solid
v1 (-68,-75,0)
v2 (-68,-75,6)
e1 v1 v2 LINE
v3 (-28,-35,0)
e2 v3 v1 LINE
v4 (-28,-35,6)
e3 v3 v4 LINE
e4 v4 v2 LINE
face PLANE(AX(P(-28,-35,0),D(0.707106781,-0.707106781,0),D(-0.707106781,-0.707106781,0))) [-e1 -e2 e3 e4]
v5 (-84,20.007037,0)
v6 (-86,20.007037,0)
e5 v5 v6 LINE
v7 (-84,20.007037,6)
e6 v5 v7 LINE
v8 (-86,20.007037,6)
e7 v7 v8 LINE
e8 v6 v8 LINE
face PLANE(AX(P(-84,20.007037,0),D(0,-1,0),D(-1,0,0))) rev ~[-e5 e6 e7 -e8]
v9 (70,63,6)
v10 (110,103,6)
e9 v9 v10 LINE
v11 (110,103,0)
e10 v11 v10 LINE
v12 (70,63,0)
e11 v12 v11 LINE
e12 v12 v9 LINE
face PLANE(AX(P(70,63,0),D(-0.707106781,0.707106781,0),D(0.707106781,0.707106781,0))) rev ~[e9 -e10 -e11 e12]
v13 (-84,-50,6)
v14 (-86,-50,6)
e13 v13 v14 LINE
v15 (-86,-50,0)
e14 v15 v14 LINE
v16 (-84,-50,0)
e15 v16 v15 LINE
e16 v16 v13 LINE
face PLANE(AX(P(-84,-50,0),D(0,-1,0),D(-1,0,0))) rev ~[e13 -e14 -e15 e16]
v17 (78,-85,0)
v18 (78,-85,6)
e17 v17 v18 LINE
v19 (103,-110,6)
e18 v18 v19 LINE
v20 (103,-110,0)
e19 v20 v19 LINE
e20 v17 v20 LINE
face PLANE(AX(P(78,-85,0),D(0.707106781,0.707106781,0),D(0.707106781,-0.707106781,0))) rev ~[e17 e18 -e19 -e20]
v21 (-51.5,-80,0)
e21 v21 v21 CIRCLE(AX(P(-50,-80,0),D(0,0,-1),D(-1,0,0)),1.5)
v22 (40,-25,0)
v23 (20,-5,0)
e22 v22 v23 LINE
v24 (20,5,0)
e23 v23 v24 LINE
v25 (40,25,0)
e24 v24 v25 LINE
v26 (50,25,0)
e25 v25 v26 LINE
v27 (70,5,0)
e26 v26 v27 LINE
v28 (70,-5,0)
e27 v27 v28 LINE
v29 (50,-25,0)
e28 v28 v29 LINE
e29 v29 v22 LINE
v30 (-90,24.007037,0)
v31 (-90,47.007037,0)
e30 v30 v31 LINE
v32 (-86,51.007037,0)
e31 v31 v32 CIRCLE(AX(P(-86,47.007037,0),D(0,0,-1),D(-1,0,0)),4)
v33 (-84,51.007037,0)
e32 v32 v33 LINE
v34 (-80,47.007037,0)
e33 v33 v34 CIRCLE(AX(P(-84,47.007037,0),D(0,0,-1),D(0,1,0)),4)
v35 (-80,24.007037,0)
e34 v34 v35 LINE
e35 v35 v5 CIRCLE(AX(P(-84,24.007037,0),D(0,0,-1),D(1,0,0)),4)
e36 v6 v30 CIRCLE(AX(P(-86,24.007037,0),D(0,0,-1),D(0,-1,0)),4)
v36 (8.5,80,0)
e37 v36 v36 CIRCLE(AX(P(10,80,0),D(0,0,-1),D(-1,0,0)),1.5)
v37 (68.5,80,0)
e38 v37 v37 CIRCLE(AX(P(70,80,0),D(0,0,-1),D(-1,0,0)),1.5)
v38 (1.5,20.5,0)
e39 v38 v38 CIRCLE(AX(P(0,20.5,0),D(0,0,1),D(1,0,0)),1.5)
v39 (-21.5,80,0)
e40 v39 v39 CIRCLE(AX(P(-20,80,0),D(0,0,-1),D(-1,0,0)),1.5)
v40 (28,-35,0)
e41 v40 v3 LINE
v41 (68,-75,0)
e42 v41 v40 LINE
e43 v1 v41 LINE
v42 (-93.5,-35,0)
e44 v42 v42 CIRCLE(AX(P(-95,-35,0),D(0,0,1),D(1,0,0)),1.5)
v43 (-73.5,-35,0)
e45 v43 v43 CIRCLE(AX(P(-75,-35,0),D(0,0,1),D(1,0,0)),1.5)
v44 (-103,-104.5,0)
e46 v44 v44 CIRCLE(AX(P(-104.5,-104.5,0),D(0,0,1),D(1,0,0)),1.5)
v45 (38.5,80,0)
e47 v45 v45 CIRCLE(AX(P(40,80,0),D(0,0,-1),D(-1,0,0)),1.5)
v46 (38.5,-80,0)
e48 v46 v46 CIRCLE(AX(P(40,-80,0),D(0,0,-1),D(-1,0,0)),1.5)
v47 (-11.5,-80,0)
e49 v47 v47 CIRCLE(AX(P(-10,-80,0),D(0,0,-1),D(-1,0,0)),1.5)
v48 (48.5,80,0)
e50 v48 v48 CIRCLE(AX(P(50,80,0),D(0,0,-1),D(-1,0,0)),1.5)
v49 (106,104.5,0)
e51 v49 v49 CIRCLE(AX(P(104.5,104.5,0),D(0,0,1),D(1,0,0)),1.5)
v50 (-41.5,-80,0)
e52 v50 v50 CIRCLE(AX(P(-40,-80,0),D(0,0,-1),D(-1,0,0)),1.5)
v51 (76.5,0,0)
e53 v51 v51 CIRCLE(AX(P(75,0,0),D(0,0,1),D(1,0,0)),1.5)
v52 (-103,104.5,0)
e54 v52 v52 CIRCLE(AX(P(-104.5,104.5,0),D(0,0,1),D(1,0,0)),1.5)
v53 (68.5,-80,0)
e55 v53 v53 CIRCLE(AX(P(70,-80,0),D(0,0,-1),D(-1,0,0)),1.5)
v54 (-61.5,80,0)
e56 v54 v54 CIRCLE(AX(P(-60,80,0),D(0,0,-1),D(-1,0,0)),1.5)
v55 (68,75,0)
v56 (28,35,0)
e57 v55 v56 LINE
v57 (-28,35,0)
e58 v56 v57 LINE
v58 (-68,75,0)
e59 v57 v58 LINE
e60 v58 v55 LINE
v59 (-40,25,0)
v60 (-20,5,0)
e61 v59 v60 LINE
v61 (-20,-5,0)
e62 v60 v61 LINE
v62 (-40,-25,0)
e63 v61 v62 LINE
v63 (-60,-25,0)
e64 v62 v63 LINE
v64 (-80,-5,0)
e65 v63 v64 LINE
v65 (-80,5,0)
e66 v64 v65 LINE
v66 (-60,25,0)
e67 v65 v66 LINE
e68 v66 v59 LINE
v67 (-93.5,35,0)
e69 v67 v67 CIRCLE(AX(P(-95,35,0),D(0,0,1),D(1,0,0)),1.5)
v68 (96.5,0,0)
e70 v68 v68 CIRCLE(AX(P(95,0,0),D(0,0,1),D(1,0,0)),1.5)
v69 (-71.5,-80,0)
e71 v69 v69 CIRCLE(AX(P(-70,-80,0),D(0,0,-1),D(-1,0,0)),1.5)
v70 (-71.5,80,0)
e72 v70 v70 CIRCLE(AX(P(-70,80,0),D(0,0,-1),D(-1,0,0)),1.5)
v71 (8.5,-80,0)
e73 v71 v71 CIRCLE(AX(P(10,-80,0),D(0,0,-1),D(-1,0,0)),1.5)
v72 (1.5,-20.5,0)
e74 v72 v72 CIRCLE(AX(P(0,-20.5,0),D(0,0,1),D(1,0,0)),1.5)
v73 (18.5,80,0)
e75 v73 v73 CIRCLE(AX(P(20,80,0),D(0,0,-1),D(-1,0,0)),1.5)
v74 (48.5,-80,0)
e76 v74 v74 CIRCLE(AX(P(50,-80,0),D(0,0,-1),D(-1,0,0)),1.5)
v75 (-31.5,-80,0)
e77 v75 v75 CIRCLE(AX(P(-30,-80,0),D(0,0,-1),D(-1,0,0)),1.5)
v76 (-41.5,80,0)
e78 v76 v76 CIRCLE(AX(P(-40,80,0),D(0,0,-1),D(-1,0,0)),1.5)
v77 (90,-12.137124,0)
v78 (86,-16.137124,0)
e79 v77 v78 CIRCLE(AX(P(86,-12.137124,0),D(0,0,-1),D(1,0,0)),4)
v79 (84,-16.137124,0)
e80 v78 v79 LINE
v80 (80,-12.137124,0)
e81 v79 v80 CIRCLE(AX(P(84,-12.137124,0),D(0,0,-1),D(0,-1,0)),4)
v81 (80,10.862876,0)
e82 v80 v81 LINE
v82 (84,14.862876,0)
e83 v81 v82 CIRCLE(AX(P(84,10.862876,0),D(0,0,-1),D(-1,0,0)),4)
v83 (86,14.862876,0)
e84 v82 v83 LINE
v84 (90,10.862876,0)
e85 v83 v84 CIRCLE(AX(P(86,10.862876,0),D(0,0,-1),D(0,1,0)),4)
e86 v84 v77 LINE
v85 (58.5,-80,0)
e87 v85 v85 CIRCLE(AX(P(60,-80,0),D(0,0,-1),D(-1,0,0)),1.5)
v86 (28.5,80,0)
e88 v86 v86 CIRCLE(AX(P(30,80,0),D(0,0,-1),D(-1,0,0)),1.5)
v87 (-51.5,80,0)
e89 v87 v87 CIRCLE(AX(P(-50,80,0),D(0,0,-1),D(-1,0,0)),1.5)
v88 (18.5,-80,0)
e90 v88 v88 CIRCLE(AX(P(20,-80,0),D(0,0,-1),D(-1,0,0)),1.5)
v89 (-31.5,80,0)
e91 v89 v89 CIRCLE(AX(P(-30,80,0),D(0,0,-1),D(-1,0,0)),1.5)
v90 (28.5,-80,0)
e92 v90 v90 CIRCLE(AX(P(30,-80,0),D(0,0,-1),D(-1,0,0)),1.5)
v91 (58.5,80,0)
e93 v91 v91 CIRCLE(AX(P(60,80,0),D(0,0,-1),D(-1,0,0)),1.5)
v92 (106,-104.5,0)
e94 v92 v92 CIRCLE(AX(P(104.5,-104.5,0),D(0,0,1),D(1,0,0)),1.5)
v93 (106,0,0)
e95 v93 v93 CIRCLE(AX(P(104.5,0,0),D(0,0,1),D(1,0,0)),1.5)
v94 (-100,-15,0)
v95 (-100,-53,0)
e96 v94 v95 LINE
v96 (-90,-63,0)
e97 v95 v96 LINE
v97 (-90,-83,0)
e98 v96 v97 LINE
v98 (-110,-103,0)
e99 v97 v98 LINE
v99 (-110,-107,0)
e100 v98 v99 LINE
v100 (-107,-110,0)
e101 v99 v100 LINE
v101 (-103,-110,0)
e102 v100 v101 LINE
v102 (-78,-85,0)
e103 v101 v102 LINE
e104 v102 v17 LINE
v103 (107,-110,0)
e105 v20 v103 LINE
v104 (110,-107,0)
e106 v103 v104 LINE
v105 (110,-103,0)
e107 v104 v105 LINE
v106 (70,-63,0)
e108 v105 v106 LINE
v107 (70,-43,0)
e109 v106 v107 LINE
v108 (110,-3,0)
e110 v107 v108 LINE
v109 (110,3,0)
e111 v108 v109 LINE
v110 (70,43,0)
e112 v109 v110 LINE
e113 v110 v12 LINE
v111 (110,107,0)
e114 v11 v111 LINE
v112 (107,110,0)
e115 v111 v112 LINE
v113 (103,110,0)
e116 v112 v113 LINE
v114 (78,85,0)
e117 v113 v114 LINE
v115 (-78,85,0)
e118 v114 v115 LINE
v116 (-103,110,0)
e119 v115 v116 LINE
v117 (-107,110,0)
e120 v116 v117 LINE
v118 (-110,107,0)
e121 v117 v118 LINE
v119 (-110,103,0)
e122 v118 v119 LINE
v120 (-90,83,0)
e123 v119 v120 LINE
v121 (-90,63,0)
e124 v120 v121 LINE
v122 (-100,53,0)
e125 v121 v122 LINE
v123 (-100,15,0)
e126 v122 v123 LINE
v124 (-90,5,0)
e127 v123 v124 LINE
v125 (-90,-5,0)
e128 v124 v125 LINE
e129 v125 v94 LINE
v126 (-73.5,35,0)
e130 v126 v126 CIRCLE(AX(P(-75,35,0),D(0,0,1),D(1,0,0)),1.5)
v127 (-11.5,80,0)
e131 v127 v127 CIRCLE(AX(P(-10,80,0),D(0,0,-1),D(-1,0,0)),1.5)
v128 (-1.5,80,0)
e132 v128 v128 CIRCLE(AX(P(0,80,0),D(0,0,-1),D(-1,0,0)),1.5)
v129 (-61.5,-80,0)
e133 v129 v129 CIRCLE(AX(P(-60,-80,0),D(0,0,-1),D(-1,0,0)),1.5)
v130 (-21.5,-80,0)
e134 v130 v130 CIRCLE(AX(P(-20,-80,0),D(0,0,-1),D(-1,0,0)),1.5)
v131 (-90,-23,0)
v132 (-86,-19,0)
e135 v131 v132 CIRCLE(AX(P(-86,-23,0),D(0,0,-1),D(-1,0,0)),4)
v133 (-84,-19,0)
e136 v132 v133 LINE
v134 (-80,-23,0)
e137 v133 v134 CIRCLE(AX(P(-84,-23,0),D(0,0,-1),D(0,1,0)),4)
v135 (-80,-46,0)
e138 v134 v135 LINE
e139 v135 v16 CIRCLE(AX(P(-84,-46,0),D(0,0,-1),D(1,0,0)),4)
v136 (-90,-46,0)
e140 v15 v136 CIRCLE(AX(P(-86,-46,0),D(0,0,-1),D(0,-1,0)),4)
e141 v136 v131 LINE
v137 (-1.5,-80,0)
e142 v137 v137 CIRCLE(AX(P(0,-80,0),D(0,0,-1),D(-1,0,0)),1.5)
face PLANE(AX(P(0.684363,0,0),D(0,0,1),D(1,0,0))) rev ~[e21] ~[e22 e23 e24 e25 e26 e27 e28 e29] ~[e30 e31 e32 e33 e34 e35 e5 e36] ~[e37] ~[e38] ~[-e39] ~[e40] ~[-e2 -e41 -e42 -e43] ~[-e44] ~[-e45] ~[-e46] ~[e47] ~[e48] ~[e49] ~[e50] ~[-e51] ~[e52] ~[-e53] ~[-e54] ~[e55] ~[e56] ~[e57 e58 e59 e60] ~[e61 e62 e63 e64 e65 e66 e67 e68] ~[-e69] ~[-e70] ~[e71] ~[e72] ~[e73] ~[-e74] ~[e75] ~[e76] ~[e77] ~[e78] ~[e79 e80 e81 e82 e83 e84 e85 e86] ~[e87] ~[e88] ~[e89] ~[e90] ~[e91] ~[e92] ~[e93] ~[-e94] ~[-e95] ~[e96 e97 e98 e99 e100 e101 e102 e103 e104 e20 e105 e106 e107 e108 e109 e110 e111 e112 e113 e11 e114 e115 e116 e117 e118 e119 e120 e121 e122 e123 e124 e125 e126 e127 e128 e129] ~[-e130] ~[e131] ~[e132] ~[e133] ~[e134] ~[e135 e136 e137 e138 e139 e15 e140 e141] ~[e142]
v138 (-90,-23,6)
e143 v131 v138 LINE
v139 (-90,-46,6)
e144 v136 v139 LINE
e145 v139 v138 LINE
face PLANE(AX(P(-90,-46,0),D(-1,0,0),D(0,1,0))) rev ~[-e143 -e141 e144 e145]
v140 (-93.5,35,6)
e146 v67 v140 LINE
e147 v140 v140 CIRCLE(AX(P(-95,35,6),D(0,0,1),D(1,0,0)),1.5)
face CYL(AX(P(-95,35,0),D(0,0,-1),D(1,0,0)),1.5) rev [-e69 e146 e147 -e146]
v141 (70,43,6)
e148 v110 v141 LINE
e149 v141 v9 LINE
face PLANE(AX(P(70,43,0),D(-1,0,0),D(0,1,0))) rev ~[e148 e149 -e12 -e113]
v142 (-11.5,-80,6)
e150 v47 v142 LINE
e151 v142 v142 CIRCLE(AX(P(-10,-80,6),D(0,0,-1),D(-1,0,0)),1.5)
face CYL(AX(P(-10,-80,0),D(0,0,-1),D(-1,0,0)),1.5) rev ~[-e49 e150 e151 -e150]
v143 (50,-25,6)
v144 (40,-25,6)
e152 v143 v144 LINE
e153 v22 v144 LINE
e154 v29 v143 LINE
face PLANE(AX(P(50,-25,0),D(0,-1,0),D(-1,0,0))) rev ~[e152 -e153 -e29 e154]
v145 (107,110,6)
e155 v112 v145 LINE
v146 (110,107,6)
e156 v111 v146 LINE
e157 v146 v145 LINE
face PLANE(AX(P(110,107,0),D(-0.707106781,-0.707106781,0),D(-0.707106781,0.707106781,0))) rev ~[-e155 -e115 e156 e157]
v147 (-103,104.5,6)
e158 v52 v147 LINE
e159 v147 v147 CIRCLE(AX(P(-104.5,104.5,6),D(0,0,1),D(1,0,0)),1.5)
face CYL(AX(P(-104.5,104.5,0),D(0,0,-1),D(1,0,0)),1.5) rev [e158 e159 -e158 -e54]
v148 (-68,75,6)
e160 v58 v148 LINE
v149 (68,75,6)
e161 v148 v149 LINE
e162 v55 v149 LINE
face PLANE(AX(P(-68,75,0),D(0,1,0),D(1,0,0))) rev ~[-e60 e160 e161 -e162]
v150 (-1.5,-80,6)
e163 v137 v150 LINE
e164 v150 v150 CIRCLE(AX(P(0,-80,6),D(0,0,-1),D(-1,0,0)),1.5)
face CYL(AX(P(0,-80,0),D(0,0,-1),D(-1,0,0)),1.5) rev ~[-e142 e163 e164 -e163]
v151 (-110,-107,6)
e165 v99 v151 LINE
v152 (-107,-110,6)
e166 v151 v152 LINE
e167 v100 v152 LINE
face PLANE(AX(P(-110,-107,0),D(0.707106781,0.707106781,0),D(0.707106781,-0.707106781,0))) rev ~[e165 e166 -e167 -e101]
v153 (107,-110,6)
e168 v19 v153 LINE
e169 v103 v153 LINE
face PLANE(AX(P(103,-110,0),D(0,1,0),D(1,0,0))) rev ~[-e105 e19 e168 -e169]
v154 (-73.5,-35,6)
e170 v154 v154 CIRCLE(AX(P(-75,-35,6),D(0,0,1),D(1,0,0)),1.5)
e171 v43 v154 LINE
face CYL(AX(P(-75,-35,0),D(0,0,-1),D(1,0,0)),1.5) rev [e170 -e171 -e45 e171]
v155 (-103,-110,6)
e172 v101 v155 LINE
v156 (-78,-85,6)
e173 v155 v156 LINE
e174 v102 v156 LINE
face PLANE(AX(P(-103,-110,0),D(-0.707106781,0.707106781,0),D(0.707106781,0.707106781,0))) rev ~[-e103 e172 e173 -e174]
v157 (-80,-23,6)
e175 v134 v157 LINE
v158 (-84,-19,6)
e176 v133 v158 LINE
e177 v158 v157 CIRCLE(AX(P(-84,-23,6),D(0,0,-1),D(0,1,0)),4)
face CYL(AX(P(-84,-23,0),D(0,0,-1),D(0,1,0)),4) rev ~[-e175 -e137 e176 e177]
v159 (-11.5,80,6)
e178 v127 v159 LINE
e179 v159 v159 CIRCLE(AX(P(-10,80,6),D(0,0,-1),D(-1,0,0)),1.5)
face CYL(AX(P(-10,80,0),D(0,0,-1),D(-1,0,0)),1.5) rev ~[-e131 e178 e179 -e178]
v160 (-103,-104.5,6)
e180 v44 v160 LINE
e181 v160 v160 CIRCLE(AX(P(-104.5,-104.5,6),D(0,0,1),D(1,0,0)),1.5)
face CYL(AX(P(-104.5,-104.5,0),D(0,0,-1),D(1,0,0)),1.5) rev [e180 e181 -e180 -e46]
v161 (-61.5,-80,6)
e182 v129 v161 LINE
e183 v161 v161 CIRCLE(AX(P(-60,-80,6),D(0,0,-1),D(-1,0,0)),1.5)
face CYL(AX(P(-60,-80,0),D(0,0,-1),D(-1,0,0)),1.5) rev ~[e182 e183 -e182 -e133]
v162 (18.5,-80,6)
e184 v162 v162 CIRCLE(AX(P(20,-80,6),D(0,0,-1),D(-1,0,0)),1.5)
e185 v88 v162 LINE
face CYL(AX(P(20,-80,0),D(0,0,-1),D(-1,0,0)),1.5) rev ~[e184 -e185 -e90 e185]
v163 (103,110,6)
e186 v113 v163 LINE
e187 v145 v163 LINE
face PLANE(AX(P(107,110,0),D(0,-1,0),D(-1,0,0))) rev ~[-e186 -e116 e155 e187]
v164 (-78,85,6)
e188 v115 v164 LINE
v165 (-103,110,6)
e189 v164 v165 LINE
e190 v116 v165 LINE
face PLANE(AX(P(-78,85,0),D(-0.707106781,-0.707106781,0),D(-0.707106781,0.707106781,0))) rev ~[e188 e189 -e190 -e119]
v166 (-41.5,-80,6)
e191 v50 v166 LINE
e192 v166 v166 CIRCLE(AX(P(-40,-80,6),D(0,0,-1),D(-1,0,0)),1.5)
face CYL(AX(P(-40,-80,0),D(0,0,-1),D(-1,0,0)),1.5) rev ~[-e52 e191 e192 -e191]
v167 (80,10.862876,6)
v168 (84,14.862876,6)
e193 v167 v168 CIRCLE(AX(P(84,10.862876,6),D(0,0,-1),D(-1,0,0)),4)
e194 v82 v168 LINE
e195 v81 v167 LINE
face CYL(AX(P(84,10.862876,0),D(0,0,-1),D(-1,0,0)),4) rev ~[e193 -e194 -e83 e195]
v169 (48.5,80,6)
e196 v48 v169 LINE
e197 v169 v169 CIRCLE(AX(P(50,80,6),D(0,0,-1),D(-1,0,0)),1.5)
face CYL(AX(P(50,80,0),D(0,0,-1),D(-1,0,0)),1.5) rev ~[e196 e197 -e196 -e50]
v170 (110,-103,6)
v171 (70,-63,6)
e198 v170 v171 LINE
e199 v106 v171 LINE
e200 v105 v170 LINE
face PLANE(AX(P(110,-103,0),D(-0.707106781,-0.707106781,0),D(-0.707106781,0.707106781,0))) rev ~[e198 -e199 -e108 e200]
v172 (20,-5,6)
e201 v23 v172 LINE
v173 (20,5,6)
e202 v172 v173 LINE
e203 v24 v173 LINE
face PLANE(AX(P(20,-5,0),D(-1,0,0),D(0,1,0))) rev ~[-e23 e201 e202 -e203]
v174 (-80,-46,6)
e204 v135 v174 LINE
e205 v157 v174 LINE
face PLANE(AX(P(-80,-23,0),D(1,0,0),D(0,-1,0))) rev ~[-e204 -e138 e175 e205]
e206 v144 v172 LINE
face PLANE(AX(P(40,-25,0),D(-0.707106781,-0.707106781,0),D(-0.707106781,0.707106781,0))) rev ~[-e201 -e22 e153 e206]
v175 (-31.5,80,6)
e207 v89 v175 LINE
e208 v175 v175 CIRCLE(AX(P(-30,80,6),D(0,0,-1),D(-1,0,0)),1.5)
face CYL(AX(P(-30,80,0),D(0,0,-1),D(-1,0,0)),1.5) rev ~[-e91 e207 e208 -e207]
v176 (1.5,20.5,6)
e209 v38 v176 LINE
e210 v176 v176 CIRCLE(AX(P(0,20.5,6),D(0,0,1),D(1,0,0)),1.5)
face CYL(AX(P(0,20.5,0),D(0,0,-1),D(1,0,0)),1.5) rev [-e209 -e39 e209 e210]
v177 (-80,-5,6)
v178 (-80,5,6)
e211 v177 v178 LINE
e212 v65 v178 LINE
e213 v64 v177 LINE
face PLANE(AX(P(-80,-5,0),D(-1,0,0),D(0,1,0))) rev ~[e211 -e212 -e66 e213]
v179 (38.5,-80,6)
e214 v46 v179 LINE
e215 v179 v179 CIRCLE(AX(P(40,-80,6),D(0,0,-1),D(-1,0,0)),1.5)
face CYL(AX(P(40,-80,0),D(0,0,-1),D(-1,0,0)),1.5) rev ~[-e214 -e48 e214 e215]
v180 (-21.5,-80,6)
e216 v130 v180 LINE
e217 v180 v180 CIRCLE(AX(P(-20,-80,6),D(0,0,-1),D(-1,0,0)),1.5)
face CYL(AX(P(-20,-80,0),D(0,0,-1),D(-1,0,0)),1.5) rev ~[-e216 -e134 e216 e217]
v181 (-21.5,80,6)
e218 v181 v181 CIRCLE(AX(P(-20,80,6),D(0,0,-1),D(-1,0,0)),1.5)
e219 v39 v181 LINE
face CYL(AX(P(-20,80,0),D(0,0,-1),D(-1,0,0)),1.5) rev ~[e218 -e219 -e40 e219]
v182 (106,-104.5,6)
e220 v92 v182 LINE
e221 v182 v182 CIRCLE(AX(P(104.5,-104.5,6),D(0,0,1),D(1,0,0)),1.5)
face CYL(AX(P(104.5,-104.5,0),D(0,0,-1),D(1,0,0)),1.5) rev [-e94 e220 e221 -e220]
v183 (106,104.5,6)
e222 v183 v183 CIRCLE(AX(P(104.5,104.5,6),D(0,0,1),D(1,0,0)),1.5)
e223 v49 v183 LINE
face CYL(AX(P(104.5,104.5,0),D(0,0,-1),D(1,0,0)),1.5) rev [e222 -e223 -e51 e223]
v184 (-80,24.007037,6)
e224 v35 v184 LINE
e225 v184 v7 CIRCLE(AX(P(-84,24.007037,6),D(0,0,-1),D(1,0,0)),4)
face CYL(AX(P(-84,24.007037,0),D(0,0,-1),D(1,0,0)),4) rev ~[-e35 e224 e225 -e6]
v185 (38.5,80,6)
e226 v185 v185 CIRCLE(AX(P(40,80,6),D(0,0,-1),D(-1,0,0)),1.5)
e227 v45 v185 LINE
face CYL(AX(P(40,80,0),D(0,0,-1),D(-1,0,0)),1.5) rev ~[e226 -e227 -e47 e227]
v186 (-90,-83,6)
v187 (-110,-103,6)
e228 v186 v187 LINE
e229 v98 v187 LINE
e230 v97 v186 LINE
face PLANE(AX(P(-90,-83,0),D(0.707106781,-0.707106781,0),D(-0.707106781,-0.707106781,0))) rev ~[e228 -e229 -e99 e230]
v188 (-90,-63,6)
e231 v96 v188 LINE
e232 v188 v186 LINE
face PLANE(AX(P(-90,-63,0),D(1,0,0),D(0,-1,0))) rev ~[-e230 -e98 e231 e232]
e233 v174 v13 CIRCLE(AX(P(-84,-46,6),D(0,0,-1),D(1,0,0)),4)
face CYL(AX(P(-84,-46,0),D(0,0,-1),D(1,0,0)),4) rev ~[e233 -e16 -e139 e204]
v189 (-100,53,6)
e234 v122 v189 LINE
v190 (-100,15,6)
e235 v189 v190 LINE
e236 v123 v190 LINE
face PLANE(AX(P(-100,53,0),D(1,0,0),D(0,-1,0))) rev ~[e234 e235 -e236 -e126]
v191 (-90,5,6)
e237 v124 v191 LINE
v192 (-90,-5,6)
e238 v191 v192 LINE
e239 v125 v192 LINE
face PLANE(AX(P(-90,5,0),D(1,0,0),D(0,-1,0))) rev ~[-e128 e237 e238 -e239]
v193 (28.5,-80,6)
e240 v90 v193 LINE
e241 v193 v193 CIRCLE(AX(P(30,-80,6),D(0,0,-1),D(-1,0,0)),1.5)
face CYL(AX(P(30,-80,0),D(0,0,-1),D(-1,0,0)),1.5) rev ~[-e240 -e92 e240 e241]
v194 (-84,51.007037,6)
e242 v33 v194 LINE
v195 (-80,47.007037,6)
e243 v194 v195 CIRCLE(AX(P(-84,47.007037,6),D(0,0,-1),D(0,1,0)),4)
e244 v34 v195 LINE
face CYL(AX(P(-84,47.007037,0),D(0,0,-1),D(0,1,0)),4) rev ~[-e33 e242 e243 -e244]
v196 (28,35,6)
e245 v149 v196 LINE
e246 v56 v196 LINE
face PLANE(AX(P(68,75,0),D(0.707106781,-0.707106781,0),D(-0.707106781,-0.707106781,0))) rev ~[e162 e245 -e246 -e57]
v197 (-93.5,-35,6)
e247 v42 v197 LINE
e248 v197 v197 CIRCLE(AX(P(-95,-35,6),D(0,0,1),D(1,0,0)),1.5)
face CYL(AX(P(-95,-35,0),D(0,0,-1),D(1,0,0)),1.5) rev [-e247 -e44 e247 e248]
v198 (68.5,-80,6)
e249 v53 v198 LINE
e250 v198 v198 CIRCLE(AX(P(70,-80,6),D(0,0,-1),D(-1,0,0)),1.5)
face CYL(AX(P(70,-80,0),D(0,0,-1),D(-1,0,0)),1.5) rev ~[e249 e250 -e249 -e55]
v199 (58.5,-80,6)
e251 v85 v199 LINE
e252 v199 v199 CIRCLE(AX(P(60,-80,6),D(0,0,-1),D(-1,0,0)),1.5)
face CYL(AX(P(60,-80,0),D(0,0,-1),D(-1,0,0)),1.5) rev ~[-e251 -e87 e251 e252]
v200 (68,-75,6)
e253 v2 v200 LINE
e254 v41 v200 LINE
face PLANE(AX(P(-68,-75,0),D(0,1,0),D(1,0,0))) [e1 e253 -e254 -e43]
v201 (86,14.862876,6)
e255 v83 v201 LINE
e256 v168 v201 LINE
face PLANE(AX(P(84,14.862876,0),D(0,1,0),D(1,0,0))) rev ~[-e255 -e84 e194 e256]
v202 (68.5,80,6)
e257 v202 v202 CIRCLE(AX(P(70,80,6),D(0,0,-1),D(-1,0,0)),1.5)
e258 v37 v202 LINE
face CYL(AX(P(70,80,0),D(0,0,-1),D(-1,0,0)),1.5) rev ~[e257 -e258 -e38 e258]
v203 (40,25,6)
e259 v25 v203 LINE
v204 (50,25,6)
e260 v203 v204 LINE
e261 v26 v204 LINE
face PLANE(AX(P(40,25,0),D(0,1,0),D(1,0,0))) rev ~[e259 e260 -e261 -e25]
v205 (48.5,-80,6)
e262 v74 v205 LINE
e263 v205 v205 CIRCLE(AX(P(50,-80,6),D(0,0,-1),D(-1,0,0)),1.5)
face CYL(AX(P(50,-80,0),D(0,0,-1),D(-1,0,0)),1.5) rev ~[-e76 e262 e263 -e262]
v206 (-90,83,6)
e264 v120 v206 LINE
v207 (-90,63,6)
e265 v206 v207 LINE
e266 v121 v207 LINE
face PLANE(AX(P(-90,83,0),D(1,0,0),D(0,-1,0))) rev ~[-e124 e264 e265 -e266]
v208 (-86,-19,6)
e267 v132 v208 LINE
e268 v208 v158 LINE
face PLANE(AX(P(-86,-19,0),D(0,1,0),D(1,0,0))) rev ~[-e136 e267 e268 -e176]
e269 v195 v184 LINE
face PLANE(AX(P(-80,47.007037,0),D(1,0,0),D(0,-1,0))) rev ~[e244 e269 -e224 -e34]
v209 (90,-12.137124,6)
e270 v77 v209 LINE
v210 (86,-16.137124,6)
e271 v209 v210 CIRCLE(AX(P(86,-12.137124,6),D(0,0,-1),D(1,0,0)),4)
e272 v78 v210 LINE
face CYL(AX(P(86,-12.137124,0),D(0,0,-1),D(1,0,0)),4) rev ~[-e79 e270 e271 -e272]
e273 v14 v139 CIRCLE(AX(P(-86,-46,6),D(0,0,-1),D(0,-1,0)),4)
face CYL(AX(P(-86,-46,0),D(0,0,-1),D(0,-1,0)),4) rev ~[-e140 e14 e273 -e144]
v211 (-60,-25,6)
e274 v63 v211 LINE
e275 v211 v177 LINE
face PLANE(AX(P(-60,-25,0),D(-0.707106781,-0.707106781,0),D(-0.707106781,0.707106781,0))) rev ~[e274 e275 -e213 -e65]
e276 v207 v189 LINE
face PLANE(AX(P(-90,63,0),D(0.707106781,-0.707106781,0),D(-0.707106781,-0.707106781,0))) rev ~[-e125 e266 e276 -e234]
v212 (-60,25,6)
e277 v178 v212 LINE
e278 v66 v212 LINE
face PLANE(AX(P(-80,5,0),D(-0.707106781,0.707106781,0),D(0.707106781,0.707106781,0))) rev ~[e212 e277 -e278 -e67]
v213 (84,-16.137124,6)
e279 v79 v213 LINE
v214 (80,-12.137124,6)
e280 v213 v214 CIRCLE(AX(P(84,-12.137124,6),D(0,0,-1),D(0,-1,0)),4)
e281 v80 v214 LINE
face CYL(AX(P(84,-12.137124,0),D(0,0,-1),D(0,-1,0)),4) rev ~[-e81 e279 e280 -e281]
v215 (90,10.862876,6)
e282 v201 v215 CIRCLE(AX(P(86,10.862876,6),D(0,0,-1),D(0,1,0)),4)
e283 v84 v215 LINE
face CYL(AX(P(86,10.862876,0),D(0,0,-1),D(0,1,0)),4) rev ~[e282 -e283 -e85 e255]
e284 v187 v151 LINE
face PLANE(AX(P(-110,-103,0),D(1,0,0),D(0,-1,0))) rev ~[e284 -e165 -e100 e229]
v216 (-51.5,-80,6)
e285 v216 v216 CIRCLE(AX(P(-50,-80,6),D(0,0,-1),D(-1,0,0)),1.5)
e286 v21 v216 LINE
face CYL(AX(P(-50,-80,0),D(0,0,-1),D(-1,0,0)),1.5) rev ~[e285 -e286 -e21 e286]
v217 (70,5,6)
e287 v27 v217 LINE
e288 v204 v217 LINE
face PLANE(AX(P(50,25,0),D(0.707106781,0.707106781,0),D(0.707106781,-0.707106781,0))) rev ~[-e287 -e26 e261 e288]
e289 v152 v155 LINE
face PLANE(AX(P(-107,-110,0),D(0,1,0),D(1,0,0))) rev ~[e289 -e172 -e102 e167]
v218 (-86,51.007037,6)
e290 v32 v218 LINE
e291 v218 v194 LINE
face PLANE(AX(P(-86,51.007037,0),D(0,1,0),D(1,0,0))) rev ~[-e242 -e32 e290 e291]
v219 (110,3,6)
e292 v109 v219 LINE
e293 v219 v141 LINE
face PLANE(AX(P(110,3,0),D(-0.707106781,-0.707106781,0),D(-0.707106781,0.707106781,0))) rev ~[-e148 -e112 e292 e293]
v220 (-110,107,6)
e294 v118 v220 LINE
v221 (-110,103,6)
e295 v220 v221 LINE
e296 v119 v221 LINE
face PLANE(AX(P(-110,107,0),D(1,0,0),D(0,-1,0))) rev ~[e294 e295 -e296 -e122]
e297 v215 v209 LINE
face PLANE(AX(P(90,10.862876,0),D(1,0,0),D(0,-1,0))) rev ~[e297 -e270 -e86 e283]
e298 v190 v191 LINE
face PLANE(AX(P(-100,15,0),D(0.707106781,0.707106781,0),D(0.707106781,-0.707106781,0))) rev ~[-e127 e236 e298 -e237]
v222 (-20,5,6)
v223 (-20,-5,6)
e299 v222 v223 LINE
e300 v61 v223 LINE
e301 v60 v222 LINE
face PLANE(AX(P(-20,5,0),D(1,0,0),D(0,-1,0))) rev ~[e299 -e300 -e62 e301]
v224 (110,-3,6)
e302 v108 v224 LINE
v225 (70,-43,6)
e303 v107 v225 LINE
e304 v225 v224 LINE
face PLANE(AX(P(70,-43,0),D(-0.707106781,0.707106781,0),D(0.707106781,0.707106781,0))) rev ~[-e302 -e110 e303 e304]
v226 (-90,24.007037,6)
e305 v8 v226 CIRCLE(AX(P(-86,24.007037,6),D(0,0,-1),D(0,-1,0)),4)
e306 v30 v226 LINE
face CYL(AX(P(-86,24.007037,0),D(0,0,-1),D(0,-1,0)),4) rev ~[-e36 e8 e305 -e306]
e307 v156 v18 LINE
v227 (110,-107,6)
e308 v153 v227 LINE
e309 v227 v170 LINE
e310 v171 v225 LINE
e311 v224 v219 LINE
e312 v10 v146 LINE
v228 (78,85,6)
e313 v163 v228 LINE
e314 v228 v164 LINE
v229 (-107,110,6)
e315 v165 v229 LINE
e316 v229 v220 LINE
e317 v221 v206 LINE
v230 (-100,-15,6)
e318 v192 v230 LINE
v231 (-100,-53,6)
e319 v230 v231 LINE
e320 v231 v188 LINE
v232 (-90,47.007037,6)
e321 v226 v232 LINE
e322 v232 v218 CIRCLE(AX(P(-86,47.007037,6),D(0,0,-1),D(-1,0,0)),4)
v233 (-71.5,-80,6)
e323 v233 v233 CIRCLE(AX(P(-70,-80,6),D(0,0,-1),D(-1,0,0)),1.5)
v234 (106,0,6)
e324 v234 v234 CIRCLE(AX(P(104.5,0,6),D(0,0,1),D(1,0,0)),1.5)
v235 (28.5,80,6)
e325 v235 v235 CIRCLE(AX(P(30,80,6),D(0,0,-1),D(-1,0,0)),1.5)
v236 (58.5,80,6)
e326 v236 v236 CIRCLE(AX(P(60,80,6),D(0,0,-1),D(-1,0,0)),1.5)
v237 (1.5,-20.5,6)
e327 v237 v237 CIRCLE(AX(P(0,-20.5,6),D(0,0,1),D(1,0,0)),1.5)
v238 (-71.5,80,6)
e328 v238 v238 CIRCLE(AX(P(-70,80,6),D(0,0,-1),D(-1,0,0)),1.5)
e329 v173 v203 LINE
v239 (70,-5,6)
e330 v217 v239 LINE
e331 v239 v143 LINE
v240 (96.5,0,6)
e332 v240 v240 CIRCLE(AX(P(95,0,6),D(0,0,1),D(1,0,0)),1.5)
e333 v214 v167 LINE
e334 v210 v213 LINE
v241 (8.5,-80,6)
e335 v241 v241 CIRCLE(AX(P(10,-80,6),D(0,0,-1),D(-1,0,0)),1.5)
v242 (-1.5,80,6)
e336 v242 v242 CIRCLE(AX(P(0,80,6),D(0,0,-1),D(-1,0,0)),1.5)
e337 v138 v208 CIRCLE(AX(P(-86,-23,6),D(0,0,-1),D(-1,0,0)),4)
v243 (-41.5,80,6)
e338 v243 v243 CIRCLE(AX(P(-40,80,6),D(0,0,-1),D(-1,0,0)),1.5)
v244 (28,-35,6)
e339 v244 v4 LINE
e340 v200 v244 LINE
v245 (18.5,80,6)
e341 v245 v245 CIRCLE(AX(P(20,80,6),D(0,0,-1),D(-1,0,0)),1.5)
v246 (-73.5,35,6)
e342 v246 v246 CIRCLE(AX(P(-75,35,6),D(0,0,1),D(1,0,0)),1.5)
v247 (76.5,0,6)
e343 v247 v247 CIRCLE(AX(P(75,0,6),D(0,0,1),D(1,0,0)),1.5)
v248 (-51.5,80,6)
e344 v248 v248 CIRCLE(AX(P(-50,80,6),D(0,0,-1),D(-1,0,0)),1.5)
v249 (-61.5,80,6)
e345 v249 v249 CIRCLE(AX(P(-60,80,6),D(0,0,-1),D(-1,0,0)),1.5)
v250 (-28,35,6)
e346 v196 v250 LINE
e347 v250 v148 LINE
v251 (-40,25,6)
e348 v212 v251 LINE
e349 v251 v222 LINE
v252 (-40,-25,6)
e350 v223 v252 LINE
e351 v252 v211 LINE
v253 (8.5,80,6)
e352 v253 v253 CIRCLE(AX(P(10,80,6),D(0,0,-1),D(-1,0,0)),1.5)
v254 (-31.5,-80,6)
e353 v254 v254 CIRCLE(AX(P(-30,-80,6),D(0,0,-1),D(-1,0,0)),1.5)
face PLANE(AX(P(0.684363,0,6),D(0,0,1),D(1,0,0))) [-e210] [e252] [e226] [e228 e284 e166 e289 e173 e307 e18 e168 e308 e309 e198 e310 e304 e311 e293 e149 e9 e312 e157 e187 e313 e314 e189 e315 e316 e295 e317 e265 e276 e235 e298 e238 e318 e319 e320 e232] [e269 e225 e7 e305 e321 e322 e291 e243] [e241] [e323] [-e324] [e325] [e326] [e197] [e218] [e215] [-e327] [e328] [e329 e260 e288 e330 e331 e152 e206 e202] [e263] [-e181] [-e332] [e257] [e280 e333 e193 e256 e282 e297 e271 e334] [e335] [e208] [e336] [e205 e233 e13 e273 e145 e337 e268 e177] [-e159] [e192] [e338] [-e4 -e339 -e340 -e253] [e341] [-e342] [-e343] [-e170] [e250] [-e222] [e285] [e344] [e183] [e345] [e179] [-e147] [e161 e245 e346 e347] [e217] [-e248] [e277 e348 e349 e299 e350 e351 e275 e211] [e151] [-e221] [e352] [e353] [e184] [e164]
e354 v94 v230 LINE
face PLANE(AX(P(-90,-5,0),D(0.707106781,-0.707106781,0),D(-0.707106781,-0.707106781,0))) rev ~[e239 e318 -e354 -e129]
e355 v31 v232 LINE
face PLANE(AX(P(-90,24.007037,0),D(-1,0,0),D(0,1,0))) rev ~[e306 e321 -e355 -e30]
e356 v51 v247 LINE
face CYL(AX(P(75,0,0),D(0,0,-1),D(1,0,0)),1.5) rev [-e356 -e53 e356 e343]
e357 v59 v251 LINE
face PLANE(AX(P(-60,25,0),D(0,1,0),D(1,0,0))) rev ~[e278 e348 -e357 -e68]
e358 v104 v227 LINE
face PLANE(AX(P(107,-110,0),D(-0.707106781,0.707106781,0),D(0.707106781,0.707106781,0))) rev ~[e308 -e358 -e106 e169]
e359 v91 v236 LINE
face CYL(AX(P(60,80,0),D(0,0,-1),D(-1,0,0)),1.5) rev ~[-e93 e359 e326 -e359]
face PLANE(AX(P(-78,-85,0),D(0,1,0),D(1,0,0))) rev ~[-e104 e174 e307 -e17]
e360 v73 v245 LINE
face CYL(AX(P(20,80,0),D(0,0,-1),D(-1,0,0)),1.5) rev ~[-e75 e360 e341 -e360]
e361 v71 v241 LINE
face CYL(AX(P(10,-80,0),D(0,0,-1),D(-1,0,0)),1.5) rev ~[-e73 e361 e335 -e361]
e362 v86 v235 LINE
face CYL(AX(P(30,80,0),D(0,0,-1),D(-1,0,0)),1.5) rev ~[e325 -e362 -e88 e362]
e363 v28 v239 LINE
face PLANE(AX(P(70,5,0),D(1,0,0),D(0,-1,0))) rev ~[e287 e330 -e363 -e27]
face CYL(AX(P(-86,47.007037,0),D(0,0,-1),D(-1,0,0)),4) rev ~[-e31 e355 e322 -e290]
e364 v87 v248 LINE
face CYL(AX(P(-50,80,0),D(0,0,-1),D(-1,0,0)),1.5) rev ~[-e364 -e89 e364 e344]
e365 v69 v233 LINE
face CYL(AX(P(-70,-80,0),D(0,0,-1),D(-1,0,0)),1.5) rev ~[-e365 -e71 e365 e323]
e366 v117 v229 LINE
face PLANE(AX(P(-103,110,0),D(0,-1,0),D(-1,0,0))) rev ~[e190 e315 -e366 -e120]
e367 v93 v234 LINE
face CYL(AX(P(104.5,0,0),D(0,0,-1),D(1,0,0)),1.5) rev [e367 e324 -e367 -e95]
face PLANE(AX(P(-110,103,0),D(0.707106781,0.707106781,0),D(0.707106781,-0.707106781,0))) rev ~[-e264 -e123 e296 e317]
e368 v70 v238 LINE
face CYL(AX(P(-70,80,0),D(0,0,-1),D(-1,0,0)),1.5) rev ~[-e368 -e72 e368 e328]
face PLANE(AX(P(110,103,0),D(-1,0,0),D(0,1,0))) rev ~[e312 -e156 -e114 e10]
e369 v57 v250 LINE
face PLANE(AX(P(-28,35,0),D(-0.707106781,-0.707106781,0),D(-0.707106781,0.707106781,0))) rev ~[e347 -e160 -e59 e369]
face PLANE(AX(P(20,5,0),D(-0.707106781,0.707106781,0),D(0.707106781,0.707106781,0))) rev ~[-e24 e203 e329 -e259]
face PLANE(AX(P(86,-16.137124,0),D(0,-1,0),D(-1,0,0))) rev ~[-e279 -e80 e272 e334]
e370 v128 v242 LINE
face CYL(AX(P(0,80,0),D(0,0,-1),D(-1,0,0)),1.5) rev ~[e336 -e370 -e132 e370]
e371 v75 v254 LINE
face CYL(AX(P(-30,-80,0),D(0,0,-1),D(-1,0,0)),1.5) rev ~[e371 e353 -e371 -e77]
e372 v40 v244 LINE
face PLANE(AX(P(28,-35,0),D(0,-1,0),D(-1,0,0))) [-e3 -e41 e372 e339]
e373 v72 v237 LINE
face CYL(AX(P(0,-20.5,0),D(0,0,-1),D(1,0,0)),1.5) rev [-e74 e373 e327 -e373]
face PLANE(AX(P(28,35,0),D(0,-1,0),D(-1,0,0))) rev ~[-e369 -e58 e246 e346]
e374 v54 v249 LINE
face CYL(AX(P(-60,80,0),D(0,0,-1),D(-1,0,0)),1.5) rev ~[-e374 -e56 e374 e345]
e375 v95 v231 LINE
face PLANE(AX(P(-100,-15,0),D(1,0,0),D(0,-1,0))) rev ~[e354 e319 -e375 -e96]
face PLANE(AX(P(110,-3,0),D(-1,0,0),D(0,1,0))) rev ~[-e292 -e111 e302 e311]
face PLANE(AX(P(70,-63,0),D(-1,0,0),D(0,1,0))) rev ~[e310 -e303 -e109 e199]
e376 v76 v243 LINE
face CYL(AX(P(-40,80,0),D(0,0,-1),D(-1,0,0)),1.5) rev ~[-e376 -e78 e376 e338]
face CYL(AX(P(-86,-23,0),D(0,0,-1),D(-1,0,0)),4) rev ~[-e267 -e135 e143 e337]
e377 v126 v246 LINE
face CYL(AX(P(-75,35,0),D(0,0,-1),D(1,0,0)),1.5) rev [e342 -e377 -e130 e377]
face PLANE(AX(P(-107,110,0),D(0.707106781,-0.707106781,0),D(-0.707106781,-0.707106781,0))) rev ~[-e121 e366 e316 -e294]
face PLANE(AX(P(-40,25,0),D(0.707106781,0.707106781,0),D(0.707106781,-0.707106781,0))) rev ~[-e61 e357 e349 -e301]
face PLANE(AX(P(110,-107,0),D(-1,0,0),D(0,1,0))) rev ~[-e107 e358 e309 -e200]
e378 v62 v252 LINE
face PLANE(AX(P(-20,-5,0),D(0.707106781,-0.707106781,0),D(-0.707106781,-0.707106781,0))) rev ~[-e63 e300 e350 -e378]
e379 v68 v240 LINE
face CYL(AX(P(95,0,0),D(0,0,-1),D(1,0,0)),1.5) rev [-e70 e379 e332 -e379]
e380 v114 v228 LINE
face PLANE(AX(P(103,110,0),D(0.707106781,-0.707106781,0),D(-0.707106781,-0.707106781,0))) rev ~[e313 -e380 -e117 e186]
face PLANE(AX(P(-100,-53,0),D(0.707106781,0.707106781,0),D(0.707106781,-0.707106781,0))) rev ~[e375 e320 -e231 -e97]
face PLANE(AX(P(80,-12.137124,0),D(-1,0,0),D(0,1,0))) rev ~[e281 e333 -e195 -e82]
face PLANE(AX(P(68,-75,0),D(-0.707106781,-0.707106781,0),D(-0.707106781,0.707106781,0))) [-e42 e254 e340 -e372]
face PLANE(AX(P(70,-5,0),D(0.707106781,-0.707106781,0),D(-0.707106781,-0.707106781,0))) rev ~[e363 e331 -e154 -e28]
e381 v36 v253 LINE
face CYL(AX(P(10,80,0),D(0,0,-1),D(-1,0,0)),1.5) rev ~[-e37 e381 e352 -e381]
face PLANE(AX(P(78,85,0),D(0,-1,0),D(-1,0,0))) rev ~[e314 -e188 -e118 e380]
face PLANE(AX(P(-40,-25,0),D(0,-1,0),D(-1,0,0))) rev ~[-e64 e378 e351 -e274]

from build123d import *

# Parameters (mm, degrees)
MODEL_R                 = 1.5
SALIENTE_EXTRUIR1_DEPTH = 6
CROQUIS2_R              = 1.5
CROQUIS2_R_2            = 0.241728607
CORTAR_EXTRUIR1_DEPTH   = 7


with BuildPart() as part:
    # Model → Saliente-Extruir1 (new body)
    with BuildSketch(Plane.XY):
        Polygon((-105, 110), (-107, 110), (-110, 107), (-110, 105), (-110, 103), (-90, 83), (-90, 63), (-100, 53), (-100, 15), (-90, 5), (-90, -5), (-100, -15), (-100, -53), (-90, -63), (-90, -83), (-110, -103), (-110, -107), (-107, -110), (-105, -110), (-103, -110), (-78, -85), (78, -85), (103, -110), (105, -110), (107, -110), (110, -107), (110, -103), (90, -83), (70, -63), (70, -43), (90, -23), (110, -3), (110, 3), (90, 23), (70, 43), (70, 63), (110, 103), (110, 106), (110, 107), (107, 110), (103, 110), (80, 87), (78, 85), (-78, 85), (-103, 110), align=None)
        with Locations((104.5, 0)):
            Circle(MODEL_R, mode=Mode.SUBTRACT)
        with Locations((-95, 35)):
            Circle(MODEL_R, mode=Mode.SUBTRACT)
        with Locations((-75, 35)):
            Circle(MODEL_R, mode=Mode.SUBTRACT)
        with Locations((-95, -35)):
            Circle(MODEL_R, mode=Mode.SUBTRACT)
        with Locations((-75, -35)):
            Circle(MODEL_R, mode=Mode.SUBTRACT)
        with Locations((95, 0)):
            Circle(MODEL_R, mode=Mode.SUBTRACT)
        with Locations((75, 0)):
            Circle(MODEL_R, mode=Mode.SUBTRACT)
        with Locations((-104.5, 104.5)):
            Circle(MODEL_R, mode=Mode.SUBTRACT)
        with Locations((104.5, -104.5)):
            Circle(MODEL_R, mode=Mode.SUBTRACT)
        with Locations((104.5, 104.5)):
            Circle(MODEL_R, mode=Mode.SUBTRACT)
        with Locations((-104.5, -104.5)):
            Circle(MODEL_R, mode=Mode.SUBTRACT)
        with Locations((0, -20.5)):
            Circle(MODEL_R, mode=Mode.SUBTRACT)
        with Locations((0, 20.5)):
            Circle(MODEL_R, mode=Mode.SUBTRACT)
        Polygon((40, 47), (38, 45), (28, 35), (-28, 35), (-68, 75), (68, 75), align=None, mode=Mode.SUBTRACT)
        Polygon((28, -35), (-28, -35), (-68, -75), (68, -75), align=None, mode=Mode.SUBTRACT)
        Polygon((-80, 5), (-60, 25), (-40, 25), (-20, 5), (-20, -5), (-40, -25), (-60, -25), (-80, -5), align=None, mode=Mode.SUBTRACT)
        Polygon((50, 25), (70, 5), (70, -5), (50, -25), (40, -25), (20, -5), (20, 5), (40, 25), align=None, mode=Mode.SUBTRACT)
        with BuildLine():
            Line((-90, -46), (-90, -23))
            ThreePointArc((-90, -23), (-88.828427125, -20.171572875), (-86, -19))
            Line((-86, -19), (-84, -19))
            ThreePointArc((-84, -19), (-81.171572875, -20.171572875), (-80, -23))
            Line((-80, -23), (-80, -46))
            ThreePointArc((-80, -46), (-81.171572875, -48.828427125), (-84, -50))
            Line((-84, -50), (-86, -50))
            ThreePointArc((-86, -50), (-88.828427125, -48.828427125), (-90, -46))
        make_face(mode=Mode.SUBTRACT)
        with BuildLine():
            Line((-90, 24.007036896), (-90, 47.007036896))
            ThreePointArc((-90, 47.007036896), (-88.828427125, 49.835464021), (-86, 51.007036896))
            Line((-86, 51.007036896), (-84, 51.007036896))
            ThreePointArc((-84, 51.007036896), (-81.171572875, 49.835464021), (-80, 47.007036896))
            Line((-80, 47.007036896), (-80, 24.007036896))
            ThreePointArc((-80, 24.007036896), (-81.171572875, 21.178609771), (-84, 20.007036896))
            Line((-84, 20.007036896), (-86, 20.007036896))
            ThreePointArc((-86, 20.007036896), (-88.828427125, 21.178609771), (-90, 24.007036896))
        make_face(mode=Mode.SUBTRACT)
        with BuildLine():
            Line((80, -12.137123607), (80, 10.862876393))
            ThreePointArc((80, 10.862876393), (81.171572875, 13.691303518), (84, 14.862876393))
            Line((84, 14.862876393), (86, 14.862876393))
            ThreePointArc((86, 14.862876393), (88.828427125, 13.691303518), (90, 10.862876393))
            Line((90, 10.862876393), (90, -12.137123607))
            ThreePointArc((90, -12.137123607), (88.828427125, -14.965550732), (86, -16.137123607))
            Line((86, -16.137123607), (84, -16.137123607))
            ThreePointArc((84, -16.137123607), (81.171572875, -14.965550732), (80, -12.137123607))
        make_face(mode=Mode.SUBTRACT)
    extrude(amount=SALIENTE_EXTRUIR1_DEPTH)

    # Croquis2 → Cortar-Extruir1 (cut, through all)
    with BuildSketch(Plane(origin=(0, 0, 0), x_dir=(-1, 0, 0), z_dir=(0, 0, -1))):
        with Locations((-70, 80)):
            Circle(CROQUIS2_R)
        with Locations((-70, -80)):
            Circle(CROQUIS2_R)
        with Locations((-61.506705716, -90.733837273)):
            Circle(CROQUIS2_R_2)
        with Locations((-60, -80)):
            Circle(CROQUIS2_R)
        with Locations((-60, 80)):
            Circle(CROQUIS2_R)
        with Locations((-50, -80)):
            Circle(CROQUIS2_R)
        with Locations((-50, 80)):
            Circle(CROQUIS2_R)
        with Locations((-40, -80)):
            Circle(CROQUIS2_R)
        with Locations((-40, 80)):
            Circle(CROQUIS2_R)
        with Locations((-30, -80)):
            Circle(CROQUIS2_R)
        with Locations((-30, 80)):
            Circle(CROQUIS2_R)
        with Locations((-20, -80)):
            Circle(CROQUIS2_R)
        with Locations((-20, 80)):
            Circle(CROQUIS2_R)
        with Locations((-10, -80)):
            Circle(CROQUIS2_R)
        with Locations((-10, 80)):
            Circle(CROQUIS2_R)
        with Locations((0, -80)):
            Circle(CROQUIS2_R)
        with Locations((0, 80)):
            Circle(CROQUIS2_R)
        with Locations((10, -80)):
            Circle(CROQUIS2_R)
        with Locations((10, 80)):
            Circle(CROQUIS2_R)
        with Locations((20, -80)):
            Circle(CROQUIS2_R)
        with Locations((20, 80)):
            Circle(CROQUIS2_R)
        with Locations((30, -80)):
            Circle(CROQUIS2_R)
        with Locations((30, 80)):
            Circle(CROQUIS2_R)
        with Locations((40, -80)):
            Circle(CROQUIS2_R)
        with Locations((40, 80)):
            Circle(CROQUIS2_R)
        with Locations((50, -80)):
            Circle(CROQUIS2_R)
        with Locations((50, 80)):
            Circle(CROQUIS2_R)
        with Locations((60, -80)):
            Circle(CROQUIS2_R)
        with Locations((60, 80)):
            Circle(CROQUIS2_R)
        with Locations((70, -80)):
            Circle(CROQUIS2_R)
        with Locations((70, 80)):
            Circle(CROQUIS2_R)
    extrude(amount=-CORTAR_EXTRUIR1_DEPTH, mode=Mode.SUBTRACT)


solid = part.part
